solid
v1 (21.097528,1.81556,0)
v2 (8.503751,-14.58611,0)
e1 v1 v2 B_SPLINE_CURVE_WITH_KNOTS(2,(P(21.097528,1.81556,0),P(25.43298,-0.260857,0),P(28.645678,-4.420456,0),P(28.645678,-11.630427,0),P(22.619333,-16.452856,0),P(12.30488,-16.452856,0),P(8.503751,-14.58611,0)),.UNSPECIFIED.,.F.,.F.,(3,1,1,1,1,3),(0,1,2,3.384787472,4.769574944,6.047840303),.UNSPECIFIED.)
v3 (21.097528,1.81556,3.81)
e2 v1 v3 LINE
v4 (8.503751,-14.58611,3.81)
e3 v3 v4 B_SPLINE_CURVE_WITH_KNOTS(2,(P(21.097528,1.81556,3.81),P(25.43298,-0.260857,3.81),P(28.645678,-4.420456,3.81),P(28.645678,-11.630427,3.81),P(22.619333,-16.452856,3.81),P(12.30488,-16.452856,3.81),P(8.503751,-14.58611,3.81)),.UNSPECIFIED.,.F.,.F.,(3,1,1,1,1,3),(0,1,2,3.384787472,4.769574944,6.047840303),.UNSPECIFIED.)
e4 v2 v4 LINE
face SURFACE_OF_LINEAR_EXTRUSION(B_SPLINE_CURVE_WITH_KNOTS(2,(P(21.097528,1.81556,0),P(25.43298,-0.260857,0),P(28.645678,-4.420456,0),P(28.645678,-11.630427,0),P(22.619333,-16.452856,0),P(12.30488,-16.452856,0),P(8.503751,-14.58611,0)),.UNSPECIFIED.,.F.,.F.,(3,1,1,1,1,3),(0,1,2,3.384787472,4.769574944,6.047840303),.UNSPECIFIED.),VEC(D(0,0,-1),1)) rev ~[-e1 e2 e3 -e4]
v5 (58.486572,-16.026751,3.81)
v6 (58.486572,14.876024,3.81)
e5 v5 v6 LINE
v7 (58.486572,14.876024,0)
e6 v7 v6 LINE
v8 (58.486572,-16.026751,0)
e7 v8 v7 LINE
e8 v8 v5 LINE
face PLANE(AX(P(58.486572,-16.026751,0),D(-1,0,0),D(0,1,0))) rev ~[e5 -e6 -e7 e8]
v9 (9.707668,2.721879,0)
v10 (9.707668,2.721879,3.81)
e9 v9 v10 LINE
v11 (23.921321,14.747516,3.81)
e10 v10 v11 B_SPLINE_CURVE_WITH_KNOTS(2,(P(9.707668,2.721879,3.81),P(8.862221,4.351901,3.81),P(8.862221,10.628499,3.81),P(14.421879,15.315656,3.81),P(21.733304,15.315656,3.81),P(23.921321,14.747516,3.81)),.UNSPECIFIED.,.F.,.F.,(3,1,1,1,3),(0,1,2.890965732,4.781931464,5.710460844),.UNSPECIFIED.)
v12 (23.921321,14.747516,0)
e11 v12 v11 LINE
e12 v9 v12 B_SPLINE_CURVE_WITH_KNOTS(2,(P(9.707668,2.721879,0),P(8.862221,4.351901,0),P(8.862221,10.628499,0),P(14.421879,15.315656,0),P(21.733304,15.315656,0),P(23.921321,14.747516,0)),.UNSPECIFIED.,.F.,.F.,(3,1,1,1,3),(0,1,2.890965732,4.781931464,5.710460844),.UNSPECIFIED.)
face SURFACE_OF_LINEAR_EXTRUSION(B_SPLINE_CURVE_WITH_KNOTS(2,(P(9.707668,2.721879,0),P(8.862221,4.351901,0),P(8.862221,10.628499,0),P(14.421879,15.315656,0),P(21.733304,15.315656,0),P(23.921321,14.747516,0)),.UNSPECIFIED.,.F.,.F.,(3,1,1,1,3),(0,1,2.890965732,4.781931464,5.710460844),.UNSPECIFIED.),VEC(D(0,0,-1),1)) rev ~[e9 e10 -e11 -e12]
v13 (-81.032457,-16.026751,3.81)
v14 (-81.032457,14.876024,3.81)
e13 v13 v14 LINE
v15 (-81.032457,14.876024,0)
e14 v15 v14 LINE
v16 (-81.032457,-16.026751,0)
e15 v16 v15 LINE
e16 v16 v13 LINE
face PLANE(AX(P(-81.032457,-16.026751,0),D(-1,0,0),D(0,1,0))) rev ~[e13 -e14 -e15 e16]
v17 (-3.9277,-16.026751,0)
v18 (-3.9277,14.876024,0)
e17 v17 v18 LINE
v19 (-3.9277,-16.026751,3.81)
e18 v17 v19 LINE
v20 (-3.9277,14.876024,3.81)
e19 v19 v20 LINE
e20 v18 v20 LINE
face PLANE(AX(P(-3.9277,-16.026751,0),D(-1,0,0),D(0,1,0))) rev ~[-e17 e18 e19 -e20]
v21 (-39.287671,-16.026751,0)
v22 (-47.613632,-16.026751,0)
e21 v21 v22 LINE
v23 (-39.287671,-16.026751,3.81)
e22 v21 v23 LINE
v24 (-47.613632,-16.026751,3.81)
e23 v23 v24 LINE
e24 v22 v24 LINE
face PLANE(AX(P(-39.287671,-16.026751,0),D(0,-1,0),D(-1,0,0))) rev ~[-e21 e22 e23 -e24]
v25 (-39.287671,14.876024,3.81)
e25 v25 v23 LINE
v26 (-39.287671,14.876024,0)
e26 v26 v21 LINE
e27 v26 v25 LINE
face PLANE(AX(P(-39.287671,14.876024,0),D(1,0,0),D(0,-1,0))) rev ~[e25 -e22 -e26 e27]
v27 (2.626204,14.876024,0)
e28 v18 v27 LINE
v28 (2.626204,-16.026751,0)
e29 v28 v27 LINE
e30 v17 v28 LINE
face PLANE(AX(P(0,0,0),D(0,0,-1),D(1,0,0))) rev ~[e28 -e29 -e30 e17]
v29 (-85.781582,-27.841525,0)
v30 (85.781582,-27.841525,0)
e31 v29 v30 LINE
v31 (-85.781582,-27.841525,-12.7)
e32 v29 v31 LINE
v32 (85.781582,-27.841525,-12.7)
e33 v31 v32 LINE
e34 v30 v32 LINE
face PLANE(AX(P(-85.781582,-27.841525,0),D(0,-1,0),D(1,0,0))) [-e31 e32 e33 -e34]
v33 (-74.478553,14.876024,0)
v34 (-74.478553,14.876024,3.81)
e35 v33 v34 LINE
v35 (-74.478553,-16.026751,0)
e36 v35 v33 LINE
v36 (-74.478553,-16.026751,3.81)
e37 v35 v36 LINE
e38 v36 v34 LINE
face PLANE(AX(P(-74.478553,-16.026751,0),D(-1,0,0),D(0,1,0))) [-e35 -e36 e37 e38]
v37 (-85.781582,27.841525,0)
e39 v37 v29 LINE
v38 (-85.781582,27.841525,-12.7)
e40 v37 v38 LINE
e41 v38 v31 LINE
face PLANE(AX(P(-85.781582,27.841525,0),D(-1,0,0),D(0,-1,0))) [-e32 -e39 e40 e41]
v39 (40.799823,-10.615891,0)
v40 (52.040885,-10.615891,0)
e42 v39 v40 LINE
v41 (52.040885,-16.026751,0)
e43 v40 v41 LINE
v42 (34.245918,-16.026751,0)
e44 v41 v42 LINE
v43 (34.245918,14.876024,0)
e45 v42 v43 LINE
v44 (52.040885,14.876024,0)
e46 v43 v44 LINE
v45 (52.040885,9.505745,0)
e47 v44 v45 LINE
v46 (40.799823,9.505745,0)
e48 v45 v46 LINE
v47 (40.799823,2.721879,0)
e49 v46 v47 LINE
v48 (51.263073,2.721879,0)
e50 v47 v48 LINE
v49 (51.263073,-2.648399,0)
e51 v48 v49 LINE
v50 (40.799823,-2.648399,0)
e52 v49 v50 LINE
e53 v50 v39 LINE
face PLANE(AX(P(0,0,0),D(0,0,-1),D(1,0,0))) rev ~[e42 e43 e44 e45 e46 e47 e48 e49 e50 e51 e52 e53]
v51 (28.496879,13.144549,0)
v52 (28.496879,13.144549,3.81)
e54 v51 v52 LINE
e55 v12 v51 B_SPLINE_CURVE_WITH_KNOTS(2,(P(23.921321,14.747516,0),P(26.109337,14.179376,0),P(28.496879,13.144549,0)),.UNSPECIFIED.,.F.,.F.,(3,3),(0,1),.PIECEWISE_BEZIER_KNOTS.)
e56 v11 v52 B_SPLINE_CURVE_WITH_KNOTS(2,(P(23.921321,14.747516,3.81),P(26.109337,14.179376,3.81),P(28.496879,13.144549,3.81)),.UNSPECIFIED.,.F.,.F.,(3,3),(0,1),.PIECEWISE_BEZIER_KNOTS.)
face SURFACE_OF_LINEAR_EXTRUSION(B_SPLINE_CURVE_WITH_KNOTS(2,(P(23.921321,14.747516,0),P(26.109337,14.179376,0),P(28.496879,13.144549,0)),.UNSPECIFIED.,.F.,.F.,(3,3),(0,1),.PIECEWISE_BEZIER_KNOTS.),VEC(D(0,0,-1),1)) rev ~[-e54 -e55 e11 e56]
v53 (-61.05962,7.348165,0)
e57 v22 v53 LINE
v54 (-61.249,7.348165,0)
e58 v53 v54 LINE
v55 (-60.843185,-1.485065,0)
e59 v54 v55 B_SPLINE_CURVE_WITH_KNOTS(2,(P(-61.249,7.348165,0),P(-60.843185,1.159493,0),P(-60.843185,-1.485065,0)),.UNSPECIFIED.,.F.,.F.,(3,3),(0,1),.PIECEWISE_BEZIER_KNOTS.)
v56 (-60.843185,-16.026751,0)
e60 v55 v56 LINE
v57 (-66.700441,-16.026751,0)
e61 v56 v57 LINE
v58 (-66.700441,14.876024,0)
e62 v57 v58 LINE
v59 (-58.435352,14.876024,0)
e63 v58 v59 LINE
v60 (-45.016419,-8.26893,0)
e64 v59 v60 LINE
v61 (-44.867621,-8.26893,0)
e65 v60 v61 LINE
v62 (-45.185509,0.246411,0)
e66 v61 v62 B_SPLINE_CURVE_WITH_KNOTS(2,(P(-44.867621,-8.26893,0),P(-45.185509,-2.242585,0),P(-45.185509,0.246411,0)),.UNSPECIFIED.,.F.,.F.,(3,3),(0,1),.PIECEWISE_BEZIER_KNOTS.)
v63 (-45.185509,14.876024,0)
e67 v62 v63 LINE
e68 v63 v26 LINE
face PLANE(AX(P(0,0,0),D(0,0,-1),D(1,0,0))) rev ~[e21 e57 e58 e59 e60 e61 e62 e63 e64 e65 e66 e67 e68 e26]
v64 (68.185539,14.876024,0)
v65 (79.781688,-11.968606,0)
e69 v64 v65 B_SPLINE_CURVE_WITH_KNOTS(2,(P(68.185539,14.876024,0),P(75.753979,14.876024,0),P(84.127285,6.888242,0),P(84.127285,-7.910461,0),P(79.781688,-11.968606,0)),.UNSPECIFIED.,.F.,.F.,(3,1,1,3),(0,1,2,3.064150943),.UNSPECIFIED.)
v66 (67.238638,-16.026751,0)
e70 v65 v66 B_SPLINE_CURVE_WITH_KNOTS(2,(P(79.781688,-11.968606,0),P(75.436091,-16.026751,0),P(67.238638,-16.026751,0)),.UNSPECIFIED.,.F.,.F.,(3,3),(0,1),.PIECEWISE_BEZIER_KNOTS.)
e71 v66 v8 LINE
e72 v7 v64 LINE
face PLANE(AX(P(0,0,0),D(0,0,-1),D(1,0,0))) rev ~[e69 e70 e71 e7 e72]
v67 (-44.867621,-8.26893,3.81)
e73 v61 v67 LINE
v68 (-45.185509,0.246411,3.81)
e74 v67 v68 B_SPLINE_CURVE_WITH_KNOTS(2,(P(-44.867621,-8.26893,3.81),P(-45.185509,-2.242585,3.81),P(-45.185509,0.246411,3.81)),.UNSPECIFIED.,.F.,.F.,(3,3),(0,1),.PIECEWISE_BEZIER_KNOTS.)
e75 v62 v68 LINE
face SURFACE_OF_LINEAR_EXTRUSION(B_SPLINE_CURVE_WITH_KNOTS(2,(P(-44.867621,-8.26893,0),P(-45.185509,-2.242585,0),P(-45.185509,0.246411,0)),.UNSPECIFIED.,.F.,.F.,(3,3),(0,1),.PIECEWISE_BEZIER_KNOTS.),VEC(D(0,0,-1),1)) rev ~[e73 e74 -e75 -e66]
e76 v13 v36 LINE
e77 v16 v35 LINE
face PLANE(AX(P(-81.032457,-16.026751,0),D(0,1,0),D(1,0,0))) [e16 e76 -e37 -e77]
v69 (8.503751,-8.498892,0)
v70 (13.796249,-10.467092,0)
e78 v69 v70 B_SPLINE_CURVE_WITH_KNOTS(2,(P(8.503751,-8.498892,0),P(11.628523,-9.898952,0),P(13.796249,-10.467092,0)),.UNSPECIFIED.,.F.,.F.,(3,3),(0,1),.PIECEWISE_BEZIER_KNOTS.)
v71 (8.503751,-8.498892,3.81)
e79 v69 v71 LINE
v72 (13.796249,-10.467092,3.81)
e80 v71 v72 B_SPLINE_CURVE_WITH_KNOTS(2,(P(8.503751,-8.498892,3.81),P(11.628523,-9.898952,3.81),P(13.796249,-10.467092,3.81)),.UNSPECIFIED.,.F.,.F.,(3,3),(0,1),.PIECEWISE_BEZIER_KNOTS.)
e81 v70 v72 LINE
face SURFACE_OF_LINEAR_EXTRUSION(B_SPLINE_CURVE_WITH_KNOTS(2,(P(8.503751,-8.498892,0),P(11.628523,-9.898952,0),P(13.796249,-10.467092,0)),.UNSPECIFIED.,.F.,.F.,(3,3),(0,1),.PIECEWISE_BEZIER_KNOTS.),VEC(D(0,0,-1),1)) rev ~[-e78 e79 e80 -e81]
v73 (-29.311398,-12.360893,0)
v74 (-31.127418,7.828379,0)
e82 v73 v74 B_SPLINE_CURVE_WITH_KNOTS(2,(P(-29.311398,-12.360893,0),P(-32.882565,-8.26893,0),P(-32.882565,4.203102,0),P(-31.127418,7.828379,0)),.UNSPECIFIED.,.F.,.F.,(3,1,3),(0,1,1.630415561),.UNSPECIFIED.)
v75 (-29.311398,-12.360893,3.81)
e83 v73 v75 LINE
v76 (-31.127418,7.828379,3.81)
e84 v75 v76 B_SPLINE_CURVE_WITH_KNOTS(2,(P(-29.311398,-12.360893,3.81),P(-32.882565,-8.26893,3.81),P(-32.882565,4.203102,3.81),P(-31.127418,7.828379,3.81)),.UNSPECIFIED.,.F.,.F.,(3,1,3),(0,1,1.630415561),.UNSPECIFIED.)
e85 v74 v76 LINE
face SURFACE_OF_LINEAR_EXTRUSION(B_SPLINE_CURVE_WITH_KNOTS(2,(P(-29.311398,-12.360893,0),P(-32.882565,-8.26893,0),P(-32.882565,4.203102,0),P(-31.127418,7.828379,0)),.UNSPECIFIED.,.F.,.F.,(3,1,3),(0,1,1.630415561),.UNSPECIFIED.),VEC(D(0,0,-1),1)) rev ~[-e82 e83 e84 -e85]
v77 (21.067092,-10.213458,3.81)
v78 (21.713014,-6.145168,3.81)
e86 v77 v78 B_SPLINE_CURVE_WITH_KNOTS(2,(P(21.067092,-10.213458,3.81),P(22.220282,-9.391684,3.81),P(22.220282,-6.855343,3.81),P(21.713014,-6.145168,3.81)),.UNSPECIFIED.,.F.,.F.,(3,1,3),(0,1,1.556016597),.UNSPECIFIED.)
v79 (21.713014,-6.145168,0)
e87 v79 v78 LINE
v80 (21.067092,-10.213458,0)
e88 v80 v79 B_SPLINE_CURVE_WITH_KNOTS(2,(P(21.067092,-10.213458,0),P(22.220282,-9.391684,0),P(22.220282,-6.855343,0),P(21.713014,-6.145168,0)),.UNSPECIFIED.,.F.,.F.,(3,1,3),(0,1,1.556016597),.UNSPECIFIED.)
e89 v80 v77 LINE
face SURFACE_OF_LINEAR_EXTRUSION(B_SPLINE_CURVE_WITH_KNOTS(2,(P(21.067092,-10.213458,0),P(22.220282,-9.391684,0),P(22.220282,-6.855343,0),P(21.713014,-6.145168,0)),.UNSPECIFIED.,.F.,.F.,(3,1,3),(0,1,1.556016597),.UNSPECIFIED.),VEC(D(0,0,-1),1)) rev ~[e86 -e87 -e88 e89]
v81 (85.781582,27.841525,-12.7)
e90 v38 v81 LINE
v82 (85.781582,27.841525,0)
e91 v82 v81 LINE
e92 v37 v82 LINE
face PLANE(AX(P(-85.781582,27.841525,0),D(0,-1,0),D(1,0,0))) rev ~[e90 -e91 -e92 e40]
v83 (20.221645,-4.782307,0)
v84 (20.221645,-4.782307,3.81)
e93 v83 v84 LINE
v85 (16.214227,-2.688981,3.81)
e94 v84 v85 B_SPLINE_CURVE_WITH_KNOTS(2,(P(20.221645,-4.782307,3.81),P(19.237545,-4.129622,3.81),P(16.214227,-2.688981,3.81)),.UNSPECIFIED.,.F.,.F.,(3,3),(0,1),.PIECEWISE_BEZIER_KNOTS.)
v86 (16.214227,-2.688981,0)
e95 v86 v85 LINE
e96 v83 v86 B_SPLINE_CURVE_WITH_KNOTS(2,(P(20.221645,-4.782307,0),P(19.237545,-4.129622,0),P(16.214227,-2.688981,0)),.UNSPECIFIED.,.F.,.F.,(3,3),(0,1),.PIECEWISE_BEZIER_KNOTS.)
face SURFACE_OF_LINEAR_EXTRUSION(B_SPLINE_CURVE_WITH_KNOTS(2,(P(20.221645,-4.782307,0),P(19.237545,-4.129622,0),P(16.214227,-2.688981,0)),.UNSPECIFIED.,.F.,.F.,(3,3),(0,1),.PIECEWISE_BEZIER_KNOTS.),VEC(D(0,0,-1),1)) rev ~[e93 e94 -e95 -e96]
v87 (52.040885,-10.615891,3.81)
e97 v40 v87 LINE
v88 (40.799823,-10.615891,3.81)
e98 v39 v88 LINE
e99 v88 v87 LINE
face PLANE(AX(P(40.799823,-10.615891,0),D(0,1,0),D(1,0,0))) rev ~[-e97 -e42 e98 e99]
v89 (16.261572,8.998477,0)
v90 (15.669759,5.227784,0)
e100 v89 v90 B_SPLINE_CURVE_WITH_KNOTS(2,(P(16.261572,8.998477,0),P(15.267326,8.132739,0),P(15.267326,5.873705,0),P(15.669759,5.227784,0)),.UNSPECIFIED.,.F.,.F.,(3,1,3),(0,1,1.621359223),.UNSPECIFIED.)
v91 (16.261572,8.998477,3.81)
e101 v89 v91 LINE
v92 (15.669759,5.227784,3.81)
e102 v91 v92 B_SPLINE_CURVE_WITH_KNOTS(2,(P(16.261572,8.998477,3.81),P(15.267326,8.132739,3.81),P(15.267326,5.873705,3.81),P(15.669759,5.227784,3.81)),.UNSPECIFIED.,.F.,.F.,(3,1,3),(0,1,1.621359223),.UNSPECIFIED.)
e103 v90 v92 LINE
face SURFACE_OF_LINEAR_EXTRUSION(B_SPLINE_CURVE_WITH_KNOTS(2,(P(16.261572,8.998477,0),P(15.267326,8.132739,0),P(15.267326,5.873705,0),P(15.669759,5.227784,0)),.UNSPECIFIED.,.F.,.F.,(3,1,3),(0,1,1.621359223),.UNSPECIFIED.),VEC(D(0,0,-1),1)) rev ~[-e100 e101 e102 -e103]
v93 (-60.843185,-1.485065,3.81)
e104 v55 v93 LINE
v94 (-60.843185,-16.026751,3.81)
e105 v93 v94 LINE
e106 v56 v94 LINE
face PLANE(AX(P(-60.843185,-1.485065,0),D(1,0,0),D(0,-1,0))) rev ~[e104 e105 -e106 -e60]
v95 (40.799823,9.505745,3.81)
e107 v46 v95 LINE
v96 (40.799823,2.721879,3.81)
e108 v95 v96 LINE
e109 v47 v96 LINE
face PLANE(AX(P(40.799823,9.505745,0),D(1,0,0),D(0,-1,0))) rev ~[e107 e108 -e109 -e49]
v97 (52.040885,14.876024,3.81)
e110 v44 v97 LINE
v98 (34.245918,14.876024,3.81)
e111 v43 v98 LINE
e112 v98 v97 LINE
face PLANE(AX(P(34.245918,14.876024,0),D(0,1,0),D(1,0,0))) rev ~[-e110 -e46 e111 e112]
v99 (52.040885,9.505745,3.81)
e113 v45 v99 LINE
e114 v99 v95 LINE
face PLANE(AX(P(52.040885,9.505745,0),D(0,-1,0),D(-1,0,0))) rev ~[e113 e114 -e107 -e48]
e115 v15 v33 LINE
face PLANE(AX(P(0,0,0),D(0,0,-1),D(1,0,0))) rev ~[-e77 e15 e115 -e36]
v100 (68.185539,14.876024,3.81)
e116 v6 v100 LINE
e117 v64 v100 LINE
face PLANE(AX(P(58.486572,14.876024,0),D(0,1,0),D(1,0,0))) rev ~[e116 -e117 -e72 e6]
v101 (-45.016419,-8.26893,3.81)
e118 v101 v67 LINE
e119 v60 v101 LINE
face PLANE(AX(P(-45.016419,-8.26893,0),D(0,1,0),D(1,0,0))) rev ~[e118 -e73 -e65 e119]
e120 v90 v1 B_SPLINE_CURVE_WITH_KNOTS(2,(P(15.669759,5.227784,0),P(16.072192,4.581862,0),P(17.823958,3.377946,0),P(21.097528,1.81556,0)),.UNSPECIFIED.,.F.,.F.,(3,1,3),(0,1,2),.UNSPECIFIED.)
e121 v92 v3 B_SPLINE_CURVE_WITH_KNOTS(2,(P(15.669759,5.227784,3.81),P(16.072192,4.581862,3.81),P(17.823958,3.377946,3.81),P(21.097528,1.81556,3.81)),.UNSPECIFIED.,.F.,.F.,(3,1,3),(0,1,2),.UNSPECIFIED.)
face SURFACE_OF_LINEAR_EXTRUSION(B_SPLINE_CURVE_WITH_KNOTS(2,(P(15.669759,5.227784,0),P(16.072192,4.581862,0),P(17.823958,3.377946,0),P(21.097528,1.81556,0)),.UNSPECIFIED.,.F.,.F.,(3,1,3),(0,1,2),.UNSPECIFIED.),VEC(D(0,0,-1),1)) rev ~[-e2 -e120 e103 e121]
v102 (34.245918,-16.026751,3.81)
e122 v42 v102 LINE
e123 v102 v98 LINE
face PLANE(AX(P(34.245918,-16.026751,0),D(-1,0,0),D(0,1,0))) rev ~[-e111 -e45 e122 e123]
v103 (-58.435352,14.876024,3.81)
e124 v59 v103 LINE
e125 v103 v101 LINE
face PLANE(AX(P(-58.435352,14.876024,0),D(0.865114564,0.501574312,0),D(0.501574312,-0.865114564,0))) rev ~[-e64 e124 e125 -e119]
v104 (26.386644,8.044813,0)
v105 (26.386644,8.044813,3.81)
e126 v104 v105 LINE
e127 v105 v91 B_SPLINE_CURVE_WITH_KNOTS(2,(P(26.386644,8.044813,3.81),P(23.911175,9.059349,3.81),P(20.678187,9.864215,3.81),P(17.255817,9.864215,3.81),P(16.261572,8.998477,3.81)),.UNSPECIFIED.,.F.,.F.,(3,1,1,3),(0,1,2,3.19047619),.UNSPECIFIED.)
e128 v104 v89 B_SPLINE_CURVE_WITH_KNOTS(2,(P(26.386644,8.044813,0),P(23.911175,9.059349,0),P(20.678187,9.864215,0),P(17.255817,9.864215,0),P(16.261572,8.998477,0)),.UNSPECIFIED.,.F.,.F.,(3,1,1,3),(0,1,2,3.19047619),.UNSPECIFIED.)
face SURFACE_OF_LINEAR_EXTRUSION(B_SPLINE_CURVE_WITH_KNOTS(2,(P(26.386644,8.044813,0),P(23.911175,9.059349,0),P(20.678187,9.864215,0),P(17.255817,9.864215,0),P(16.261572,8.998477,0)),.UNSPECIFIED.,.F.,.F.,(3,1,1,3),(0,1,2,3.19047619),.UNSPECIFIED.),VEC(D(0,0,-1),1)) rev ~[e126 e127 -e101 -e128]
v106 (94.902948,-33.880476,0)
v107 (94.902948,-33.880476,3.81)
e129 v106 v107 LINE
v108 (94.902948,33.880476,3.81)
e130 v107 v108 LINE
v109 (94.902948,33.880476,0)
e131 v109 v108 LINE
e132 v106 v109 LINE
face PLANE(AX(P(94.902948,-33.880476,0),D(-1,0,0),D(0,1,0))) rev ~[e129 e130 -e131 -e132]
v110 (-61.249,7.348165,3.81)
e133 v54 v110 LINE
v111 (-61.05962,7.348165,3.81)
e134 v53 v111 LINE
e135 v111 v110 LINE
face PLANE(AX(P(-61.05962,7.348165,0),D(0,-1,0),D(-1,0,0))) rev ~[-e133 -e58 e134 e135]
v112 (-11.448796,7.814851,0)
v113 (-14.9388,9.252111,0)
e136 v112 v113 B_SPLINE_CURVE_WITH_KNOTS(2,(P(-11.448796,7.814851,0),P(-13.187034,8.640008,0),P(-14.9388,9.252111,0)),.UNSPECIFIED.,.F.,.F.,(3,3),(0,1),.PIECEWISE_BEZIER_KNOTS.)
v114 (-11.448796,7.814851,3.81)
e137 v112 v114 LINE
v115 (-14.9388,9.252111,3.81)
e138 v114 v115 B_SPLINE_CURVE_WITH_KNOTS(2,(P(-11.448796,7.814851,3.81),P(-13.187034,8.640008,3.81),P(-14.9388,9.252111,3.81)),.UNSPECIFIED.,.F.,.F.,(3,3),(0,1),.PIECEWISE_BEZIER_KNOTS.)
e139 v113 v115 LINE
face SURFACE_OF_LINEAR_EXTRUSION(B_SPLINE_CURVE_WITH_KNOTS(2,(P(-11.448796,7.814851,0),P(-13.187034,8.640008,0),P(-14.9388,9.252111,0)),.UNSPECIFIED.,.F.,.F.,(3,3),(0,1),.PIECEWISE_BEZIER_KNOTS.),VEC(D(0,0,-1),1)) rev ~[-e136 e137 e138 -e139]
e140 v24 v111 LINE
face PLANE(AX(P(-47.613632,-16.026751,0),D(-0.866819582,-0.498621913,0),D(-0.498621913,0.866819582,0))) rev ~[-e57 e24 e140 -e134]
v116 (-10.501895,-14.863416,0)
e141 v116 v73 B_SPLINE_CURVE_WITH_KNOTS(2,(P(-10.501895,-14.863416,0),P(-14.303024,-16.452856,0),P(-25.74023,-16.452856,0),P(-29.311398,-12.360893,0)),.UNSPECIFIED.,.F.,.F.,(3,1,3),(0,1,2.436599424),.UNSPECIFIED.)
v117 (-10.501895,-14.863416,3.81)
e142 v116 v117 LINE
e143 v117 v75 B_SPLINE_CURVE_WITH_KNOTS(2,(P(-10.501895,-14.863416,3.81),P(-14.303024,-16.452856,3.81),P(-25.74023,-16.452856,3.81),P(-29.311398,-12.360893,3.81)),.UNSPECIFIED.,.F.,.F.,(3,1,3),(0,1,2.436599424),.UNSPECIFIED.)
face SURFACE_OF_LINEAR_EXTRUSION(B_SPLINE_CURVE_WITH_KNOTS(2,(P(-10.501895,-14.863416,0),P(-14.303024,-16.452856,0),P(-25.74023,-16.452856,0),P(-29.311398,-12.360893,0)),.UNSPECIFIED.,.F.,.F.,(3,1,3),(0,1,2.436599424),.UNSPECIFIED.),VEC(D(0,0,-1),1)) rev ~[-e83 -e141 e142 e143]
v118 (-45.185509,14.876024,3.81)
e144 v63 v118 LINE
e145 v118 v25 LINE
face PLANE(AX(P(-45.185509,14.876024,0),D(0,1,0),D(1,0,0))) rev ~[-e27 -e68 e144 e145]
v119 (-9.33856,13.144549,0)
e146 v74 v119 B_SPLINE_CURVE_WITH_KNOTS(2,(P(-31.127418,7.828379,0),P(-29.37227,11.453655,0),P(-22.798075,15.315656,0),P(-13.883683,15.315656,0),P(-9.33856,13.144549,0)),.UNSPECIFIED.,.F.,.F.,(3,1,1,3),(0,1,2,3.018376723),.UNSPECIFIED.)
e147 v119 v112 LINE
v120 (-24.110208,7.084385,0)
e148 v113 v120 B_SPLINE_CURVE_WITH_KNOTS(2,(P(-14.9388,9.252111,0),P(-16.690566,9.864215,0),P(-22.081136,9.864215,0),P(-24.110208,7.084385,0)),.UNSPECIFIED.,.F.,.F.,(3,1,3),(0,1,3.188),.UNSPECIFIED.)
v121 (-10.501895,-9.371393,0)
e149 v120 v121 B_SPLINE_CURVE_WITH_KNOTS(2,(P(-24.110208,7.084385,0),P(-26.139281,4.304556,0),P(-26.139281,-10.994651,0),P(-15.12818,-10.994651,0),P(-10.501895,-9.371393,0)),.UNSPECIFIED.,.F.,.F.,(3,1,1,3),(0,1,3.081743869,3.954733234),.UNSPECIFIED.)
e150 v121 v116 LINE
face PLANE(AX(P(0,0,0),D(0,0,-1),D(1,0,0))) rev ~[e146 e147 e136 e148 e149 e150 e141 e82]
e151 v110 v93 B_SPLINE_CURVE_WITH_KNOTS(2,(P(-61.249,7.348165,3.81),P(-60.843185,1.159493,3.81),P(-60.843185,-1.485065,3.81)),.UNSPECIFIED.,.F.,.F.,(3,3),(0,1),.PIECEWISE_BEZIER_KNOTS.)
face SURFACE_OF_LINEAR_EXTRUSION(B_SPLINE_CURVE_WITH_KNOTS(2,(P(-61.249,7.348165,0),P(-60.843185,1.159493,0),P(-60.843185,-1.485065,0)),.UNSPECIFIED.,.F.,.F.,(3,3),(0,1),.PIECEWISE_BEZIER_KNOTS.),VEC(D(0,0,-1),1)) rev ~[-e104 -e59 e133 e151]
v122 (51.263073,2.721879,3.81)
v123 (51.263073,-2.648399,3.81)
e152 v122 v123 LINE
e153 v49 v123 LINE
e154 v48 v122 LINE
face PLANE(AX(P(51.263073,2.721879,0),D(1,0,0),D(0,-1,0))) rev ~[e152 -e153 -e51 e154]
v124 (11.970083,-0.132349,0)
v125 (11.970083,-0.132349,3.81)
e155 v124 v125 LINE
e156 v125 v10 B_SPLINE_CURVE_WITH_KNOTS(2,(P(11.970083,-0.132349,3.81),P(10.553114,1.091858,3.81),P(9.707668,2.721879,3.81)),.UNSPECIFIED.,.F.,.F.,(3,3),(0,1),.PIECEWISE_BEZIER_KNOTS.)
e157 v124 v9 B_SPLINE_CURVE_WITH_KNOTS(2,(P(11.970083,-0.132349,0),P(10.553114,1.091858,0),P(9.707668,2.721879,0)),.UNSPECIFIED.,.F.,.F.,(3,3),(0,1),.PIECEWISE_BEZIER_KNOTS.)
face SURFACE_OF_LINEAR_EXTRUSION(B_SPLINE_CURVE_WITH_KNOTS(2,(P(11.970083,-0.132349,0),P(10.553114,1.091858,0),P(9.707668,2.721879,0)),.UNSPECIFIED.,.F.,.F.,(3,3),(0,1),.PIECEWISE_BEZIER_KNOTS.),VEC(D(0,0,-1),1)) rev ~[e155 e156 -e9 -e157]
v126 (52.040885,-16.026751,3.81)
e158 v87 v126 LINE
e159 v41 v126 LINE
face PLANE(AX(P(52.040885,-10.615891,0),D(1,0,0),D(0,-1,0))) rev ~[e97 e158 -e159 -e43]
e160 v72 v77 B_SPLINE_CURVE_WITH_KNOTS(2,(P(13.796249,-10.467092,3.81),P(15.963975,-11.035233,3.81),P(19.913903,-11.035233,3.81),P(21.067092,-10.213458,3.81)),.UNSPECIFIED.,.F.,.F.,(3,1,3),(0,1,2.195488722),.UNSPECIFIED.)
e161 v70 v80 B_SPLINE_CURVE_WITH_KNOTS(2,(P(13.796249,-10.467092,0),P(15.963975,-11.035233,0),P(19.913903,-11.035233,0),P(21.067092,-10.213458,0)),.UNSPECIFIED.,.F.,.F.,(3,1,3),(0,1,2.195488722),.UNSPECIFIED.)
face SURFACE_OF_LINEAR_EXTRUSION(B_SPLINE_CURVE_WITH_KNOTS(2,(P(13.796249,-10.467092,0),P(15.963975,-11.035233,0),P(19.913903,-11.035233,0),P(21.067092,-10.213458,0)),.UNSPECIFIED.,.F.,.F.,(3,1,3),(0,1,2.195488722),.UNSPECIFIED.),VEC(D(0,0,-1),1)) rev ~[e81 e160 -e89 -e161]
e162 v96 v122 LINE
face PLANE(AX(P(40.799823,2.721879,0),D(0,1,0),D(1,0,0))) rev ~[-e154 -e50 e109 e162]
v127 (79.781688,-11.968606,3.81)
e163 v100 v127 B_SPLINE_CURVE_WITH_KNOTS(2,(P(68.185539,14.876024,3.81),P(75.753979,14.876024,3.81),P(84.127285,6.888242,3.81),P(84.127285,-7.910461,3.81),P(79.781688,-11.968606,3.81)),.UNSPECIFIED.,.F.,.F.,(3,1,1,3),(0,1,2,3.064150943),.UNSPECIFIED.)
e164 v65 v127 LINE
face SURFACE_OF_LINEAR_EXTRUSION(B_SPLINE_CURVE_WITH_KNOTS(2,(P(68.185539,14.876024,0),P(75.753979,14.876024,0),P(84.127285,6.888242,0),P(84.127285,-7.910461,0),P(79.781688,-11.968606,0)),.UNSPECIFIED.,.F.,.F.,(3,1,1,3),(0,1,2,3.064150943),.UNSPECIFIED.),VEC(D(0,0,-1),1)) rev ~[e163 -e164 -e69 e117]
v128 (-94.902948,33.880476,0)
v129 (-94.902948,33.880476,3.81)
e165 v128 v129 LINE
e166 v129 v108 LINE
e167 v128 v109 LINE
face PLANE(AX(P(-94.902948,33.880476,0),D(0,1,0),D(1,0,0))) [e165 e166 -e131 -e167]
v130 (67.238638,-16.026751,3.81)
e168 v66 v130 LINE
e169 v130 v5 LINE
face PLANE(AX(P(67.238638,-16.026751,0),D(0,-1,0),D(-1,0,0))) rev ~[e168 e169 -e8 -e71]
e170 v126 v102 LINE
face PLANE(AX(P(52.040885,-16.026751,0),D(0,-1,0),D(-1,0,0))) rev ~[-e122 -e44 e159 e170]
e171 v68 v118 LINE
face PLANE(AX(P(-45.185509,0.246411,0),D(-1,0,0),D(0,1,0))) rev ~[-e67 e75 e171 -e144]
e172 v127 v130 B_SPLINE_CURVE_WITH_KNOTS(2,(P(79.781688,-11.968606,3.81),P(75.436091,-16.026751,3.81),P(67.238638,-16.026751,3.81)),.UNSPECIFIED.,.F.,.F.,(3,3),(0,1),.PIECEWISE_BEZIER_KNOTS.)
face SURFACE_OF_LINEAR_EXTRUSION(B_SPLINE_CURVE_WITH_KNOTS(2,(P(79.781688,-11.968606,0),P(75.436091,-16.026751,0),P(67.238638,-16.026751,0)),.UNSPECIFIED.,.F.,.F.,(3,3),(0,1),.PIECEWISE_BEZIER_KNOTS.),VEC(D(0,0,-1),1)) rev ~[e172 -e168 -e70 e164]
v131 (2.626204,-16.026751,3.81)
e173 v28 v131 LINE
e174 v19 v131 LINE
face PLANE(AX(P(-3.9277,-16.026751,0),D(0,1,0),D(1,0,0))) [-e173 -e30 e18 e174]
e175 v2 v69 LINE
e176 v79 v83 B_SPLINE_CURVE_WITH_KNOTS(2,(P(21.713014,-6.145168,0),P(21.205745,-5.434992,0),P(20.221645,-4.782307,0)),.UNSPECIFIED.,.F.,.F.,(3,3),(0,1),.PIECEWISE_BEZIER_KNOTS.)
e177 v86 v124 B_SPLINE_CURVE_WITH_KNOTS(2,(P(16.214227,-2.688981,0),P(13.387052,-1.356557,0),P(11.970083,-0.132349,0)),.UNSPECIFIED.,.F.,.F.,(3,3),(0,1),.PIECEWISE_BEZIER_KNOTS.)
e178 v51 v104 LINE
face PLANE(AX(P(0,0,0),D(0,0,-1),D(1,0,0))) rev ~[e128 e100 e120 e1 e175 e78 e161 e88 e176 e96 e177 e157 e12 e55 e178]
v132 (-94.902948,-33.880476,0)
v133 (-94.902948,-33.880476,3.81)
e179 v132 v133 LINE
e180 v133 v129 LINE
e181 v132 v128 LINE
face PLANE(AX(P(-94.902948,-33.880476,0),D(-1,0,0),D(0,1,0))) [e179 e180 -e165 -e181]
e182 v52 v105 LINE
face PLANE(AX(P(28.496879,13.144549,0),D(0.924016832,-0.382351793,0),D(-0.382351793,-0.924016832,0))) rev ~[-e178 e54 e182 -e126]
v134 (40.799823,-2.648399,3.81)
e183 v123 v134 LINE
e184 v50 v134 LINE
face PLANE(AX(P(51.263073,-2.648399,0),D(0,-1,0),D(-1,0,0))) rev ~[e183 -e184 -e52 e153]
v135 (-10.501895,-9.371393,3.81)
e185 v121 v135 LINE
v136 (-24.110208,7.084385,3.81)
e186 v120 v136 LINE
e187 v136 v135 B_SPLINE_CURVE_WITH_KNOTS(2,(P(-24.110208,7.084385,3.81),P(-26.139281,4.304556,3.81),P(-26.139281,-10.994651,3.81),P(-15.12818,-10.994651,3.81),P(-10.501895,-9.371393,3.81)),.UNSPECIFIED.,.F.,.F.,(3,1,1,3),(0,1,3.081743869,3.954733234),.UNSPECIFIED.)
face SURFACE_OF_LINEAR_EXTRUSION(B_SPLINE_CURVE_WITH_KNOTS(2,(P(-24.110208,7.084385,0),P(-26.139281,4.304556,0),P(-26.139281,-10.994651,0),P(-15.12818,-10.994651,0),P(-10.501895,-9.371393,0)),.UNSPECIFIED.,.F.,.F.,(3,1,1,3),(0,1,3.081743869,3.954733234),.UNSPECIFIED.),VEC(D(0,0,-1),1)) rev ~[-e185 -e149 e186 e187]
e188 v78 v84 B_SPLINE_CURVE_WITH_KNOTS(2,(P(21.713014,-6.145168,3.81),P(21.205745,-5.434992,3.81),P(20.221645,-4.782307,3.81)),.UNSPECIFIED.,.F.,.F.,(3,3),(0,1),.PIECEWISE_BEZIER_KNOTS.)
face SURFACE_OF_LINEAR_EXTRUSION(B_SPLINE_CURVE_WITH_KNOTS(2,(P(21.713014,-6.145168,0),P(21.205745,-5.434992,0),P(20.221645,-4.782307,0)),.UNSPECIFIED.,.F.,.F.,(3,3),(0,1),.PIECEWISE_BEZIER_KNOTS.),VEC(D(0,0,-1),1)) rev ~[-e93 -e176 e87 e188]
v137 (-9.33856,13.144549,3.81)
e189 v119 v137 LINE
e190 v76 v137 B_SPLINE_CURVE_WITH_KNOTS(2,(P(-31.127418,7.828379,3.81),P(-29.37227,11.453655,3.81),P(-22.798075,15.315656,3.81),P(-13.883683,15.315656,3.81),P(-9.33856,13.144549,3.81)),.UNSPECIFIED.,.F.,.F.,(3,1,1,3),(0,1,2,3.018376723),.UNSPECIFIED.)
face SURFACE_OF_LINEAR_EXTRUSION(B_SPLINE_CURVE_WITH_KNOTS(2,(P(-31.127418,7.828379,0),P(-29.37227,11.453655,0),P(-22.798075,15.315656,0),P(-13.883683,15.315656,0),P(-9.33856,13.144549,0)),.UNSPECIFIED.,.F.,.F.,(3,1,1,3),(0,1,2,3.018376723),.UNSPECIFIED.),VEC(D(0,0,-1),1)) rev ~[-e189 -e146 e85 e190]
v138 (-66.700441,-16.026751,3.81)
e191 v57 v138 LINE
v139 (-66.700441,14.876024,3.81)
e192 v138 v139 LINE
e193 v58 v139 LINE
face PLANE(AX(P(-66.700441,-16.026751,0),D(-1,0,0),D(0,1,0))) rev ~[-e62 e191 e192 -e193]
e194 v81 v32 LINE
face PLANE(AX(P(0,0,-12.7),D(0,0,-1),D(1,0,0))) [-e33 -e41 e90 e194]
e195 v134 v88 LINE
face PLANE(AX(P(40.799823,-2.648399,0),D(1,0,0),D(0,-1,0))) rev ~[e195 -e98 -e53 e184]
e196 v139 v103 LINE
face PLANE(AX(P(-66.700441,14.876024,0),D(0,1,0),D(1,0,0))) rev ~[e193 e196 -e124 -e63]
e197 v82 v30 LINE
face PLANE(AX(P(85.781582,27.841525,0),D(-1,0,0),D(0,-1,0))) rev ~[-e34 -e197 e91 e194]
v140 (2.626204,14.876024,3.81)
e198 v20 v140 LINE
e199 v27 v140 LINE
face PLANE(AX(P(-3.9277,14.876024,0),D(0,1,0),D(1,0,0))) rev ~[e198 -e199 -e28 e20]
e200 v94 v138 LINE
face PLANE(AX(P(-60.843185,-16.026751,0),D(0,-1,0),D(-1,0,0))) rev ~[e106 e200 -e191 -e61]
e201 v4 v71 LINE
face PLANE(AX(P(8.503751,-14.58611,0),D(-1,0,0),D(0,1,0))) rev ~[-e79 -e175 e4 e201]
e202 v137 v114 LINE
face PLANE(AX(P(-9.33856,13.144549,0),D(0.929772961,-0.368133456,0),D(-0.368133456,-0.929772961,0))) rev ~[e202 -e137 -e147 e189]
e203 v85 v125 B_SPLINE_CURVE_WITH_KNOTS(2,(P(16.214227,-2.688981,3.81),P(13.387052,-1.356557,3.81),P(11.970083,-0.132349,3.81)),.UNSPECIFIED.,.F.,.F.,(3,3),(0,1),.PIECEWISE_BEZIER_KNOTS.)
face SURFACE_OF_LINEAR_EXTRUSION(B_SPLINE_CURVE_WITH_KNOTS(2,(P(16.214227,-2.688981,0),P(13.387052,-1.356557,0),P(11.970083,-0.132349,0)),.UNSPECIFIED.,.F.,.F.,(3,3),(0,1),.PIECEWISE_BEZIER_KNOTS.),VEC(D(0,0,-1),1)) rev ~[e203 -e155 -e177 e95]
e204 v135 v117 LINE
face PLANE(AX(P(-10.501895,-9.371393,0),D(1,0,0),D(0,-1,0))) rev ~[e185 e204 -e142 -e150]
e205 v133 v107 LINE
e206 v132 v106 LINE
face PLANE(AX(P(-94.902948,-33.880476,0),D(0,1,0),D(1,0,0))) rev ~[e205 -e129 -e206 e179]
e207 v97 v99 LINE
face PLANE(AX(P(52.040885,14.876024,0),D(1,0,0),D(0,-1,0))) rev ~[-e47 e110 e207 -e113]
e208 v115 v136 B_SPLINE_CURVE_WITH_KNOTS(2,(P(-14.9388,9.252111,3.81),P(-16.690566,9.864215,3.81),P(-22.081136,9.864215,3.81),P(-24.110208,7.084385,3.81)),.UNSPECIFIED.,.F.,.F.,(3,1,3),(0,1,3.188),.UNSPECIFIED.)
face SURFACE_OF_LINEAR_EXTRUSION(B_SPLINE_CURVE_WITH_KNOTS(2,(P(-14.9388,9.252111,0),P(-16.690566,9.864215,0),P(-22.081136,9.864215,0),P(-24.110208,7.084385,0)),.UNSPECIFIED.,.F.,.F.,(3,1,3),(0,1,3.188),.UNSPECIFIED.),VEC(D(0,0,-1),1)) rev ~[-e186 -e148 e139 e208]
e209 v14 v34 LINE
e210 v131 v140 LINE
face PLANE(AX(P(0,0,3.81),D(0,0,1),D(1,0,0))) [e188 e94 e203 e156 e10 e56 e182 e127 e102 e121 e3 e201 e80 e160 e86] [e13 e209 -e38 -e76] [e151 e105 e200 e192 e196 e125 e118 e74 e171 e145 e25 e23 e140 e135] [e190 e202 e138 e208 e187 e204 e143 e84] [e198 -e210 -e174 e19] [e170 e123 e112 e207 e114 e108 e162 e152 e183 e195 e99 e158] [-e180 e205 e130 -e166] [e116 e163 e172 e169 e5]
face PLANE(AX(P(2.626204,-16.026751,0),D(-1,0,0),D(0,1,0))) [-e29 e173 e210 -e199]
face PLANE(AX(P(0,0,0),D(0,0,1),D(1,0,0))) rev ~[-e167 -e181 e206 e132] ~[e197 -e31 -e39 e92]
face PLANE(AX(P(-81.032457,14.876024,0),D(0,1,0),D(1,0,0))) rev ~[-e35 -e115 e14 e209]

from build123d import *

# Parameters (mm, degrees)
F0_W     = 189.8058950901
F0_H     = 67.760951817
F0_W_2   = 6.5539043493
F0_H_2   = 30.9027749966
F1_DEPTH = 3.81
F2_W     = 171.5631633997
F2_H     = 55.6830503047
F3_DEPTH = 5.08
F4_DEPTH = 12.7


with BuildPart() as f1:
    # F0 (on Top) → F1 (new body)
    with BuildSketch(Plane.XY):
        Rectangle(F0_W, F0_H)
        with Locations((-77.7555048497, -0.57536364)):
            Rectangle(F0_W_2, F0_H_2, mode=Mode.SUBTRACT)
        with BuildLine():
            Line((-39.2876710145, 14.8760238584), (-39.2876710145, -16.0267511383))
            Line((-39.2876710145, -16.0267511383), (-47.6136320609, -16.0267511383))
            Line((-47.6136320609, -16.0267511383), (-61.0596195183, 7.3481646832))
            Line((-61.0596195183, 7.3481646832), (-61.2489996234, 7.3481646832))
            add(Edge.make_bspline(
                [(-61.2489996234, 7.3481646832), (-60.8431851126, 1.1594933937), (-60.8431851126, -1.4850645016)],
                knots=[0, 0, 0, 1, 1, 1], degree=2))
            Line((-60.8431851126, -1.4850645016), (-60.8431851126, -16.0267511383))
            Line((-60.8431851126, -16.0267511383), (-66.7004412183, -16.0267511383))
            Line((-66.7004412183, -16.0267511383), (-66.7004412183, 14.8760238584))
            Line((-66.7004412183, 14.8760238584), (-58.4353523486, 14.8760238584))
            Line((-58.4353523486, 14.8760238584), (-45.0164191918, -8.268930407))
            Line((-45.0164191918, -8.268930407), (-44.8676205378, -8.268930407))
            add(Edge.make_bspline(
                [(-44.8676205378, -8.268930407), (-45.1855085713, -2.2425849218), (-45.1855085713, 0.2464107444)],
                knots=[0, 0, 0, 1, 1, 1], degree=2))
            Line((-45.1855085713, 0.2464107444), (-45.1855085713, 14.8760238584))
            Line((-45.1855085713, 14.8760238584), (-39.2876710145, 14.8760238584))
        make_face(mode=Mode.SUBTRACT)
        with BuildLine():
            add(Edge.make_bspline(
                [(-14.9388003671, 9.2521110963), (-16.6905663387, 9.8642146501), (-18.3814601336, 9.8642146501)],
                knots=[0, 0, 0, 1, 1, 1], degree=2))
            add(Edge.make_bspline(
                [(-18.3814601336, 9.8642146501), (-22.081135757, 9.8642146501), (-24.110208311, 7.0843852512)],
                knots=[0, 0, 0, 1, 1, 1], degree=2))
            add(Edge.make_bspline(
                [(-24.110208311, 7.0843852512), (-26.1392808649, 4.3045558523), (-26.1392808649, -0.6599083297)],
                knots=[0, 0, 0, 1, 1, 1], degree=2))
            add(Edge.make_bspline(
                [(-26.1392808649, -0.6599083297), (-26.1392808649, -10.9946512045), (-18.3814601336, -10.9946512045)],
                knots=[0, 0, 0, 1, 1, 1], degree=2))
            add(Edge.make_bspline(
                [(-18.3814601336, -10.9946512045), (-15.1281804721, -10.9946512045), (-10.5018950491, -9.3713931613)],
                knots=[0, 0, 0, 1, 1, 1], degree=2))
            Line((-10.5018950491, -9.3713931613), (-10.5018950491, -14.8634162073))
            add(Edge.make_bspline(
                [(-10.5018950491, -14.8634162073), (-14.3030243002, -16.4528563746), (-18.996945475, -16.4528563746)],
                knots=[0, 0, 0, 1, 1, 1], degree=2))
            add(Edge.make_bspline(
                [(-18.996945475, -16.4528563746), (-25.7402299293, -16.4528563746), (-29.3113976242, -12.3608933908)],
                knots=[0, 0, 0, 1, 1, 1], degree=2))
            add(Edge.make_bspline(
                [(-29.3113976242, -12.3608933908), (-32.8825653192, -8.268930407), (-32.8825653192, -0.6193268786)],
                knots=[0, 0, 0, 1, 1, 1], degree=2))
            add(Edge.make_bspline(
                [(-32.8825653192, -0.6193268786), (-32.8825653192, 4.2031022246), (-31.12741756, 7.828378521)],
                knots=[0, 0, 0, 1, 1, 1], degree=2))
            add(Edge.make_bspline(
                [(-31.12741756, 7.828378521), (-29.3722698009, 11.4536548174), (-26.0851722635, 13.3846555312)],
                knots=[0, 0, 0, 1, 1, 1], degree=2))
            add(Edge.make_bspline(
                [(-26.0851722635, 13.3846555312), (-22.7980747261, 15.315656245), (-18.3814601336, 15.315656245)],
                knots=[0, 0, 0, 1, 1, 1], degree=2))
            add(Edge.make_bspline(
                [(-18.3814601336, 15.315656245), (-13.8836826391, 15.315656245), (-9.3385601182, 13.1445486123)],
                knots=[0, 0, 0, 1, 1, 1], degree=2))
            Line((-9.3385601182, 13.1445486123), (-11.4487955743, 7.8148513706))
            add(Edge.make_bspline(
                [(-11.4487955743, 7.8148513706), (-13.1870343955, 8.6400075426), (-14.9388003671, 9.2521110963)],
                knots=[0, 0, 0, 1, 1, 1], degree=2))
        make_face(mode=Mode.SUBTRACT)
        with Locations((-0.6507477997, -0.57536364)):
            Rectangle(F0_W_2, F0_H_2, mode=Mode.SUBTRACT)
        with BuildLine():
            add(Edge.make_bspline(
                [(27.0393289865, -2.3406567619), (28.6456780917, -4.4204561297), (28.6456780917, -7.4437742351)],
                knots=[0, 0, 0, 1, 1, 1], degree=2))
            add(Edge.make_bspline(
                [(28.6456780917, -7.4437742351), (28.6456780917, -11.6304272714), (25.6325053491, -14.041641823)],
                knots=[0, 0, 0, 1, 1, 1], degree=2))
            add(Edge.make_bspline(
                [(25.6325053491, -14.041641823), (22.6193326065, -16.4528563746), (17.2558174889, -16.4528563746)],
                knots=[0, 0, 0, 1, 1, 1], degree=2))
            add(Edge.make_bspline(
                [(17.2558174889, -16.4528563746), (12.3048804572, -16.4528563746), (8.5037512062, -14.586109625)],
                knots=[0, 0, 0, 1, 1, 1], degree=2))
            Line((8.5037512062, -14.586109625), (8.5037512062, -8.4988919631))
            add(Edge.make_bspline(
                [(8.5037512062, -8.4988919631), (11.6285229392, -9.8989520253), (13.7962487844, -10.4670923405)],
                knots=[0, 0, 0, 1, 1, 1], degree=2))
            add(Edge.make_bspline(
                [(13.7962487844, -10.4670923405), (15.9639746295, -11.0352326556), (17.7630856273, -11.0352326556)],
                knots=[0, 0, 0, 1, 1, 1], degree=2))
            add(Edge.make_bspline(
                [(17.7630856273, -11.0352326556), (19.9139025345, -11.0352326556), (21.0670921027, -10.2134582712)],
                knots=[0, 0, 0, 1, 1, 1], degree=2))
            add(Edge.make_bspline(
                [(21.0670921027, -10.2134582712), (22.2202816708, -9.3916838869), (22.2202816708, -7.7616622685)],
                knots=[0, 0, 0, 1, 1, 1], degree=2))
            add(Edge.make_bspline(
                [(22.2202816708, -7.7616622685), (22.2202816708, -6.8553431944), (21.7130135324, -6.1451678005)],
                knots=[0, 0, 0, 1, 1, 1], degree=2))
            add(Edge.make_bspline(
                [(21.7130135324, -6.1451678005), (21.2057453939, -5.4349924067), (20.2216452052, -4.7823074018)],
                knots=[0, 0, 0, 1, 1, 1], degree=2))
            add(Edge.make_bspline(
                [(20.2216452052, -4.7823074018), (19.2375450165, -4.129622397), (16.2142269112, -2.6889808837)],
                knots=[0, 0, 0, 1, 1, 1], degree=2))
            add(Edge.make_bspline(
                [(16.2142269112, -2.6889808837), (13.387052486, -1.3565565732), (11.9700834858, -0.1323494657)],
                knots=[0, 0, 0, 1, 1, 1], degree=2))
            add(Edge.make_bspline(
                [(11.9700834858, -0.1323494657), (10.5531144856, 1.0918576419), (9.7076675882, 2.7218792602)],
                knots=[0, 0, 0, 1, 1, 1], degree=2))
            add(Edge.make_bspline(
                [(9.7076675882, 2.7218792602), (8.8622206907, 4.3519008785), (8.8622206907, 6.5230085113)],
                knots=[0, 0, 0, 1, 1, 1], degree=2))
            add(Edge.make_bspline(
                [(8.8622206907, 6.5230085113), (8.8622206907, 10.6284986454), (11.6420500896, 12.9720774452)],
                knots=[0, 0, 0, 1, 1, 1], degree=2))
            add(Edge.make_bspline(
                [(11.6420500896, 12.9720774452), (14.4218794885, 15.315656245), (19.3254714939, 15.315656245)],
                knots=[0, 0, 0, 1, 1, 1], degree=2))
            add(Edge.make_bspline(
                [(19.3254714939, 15.315656245), (21.7333042579, 15.315656245), (23.9213208286, 14.7475159299)],
                knots=[0, 0, 0, 1, 1, 1], degree=2))
            add(Edge.make_bspline(
                [(23.9213208286, 14.7475159299), (26.1093373992, 14.1793756148), (28.4968794377, 13.1445486123)],
                knots=[0, 0, 0, 1, 1, 1], degree=2))
            Line((28.4968794377, 13.1445486123), (26.3866439816, 8.0448129267))
            add(Edge.make_bspline(
                [(26.3866439816, 8.0448129267), (23.9111754658, 9.0593492037), (22.2946809978, 9.4617819269)],
                knots=[0, 0, 0, 1, 1, 1], degree=2))
            add(Edge.make_bspline(
                [(22.2946809978, 9.4617819269), (20.6781865298, 9.8642146501), (19.1158006633, 9.8642146501)],
                knots=[0, 0, 0, 1, 1, 1], degree=2))
            add(Edge.make_bspline(
                [(19.1158006633, 9.8642146501), (17.2558174889, 9.8642146501), (16.2615719374, 8.9984770271)],
                knots=[0, 0, 0, 1, 1, 1], degree=2))
            add(Edge.make_bspline(
                [(16.2615719374, 8.9984770271), (15.267326386, 8.1327394041), (15.267326386, 6.739442917)],
                knots=[0, 0, 0, 1, 1, 1], degree=2))
            add(Edge.make_bspline(
                [(15.267326386, 6.739442917), (15.267326386, 5.873705294), (15.6697591092, 5.2277838643)],
                knots=[0, 0, 0, 1, 1, 1], degree=2))
            add(Edge.make_bspline(
                [(15.6697591092, 5.2277838643), (16.0721918324, 4.5818624347), (16.9480748182, 3.9799042437)],
                knots=[0, 0, 0, 1, 1, 1], degree=2))
            add(Edge.make_bspline(
                [(16.9480748182, 3.9799042437), (17.823957804, 3.3779460527), (21.097528191, 1.8155601861)],
                knots=[0, 0, 0, 1, 1, 1], degree=2))
            add(Edge.make_bspline(
                [(21.097528191, 1.8155601861), (25.4329798813, -0.2608573941), (27.0393289865, -2.3406567619)],
                knots=[0, 0, 0, 1, 1, 1], degree=2))
        make_face(mode=Mode.SUBTRACT)
        Polygon((52.0408846387, -10.6158909944), (52.0408846387, -16.0267511383), (34.2459183406, -16.0267511383), (34.2459183406, 14.8760238584), (52.0408846387, 14.8760238584), (52.0408846387, 9.5057451656), (40.7998226898, 9.5057451656), (40.7998226898, 2.7218792602), (51.263073493, 2.7218792602), (51.263073493, -2.6483994326), (40.7998226898, -2.6483994326), (40.7998226898, -10.6158909944), align=None, mode=Mode.SUBTRACT)
        with BuildLine():
            add(Edge.make_bspline(
                [(79.9406322555, 10.8821327147), (84.1272852918, 6.888241571), (84.1272852918, -0.2811481196)],
                knots=[0, 0, 0, 1, 1, 1], degree=2))
            add(Edge.make_bspline(
                [(84.1272852918, -0.2811481196), (84.1272852918, -7.9104609225), (79.7816882388, -11.9686060304)],
                knots=[0, 0, 0, 1, 1, 1], degree=2))
            add(Edge.make_bspline(
                [(79.7816882388, -11.9686060304), (75.4360911857, -16.0267511383), (67.2386380678, -16.0267511383)],
                knots=[0, 0, 0, 1, 1, 1], degree=2))
            Line((67.2386380678, -16.0267511383), (58.4865717851, -16.0267511383))
            Line((58.4865717851, -16.0267511383), (58.4865717851, 14.8760238584))
            Line((58.4865717851, 14.8760238584), (68.1855385929, 14.8760238584))
            add(Edge.make_bspline(
                [(68.1855385929, 14.8760238584), (75.7539792192, 14.8760238584), (79.9406322555, 10.8821327147)],
                knots=[0, 0, 0, 1, 1, 1], degree=2))
        make_face(mode=Mode.SUBTRACT)
    extrude(amount=F1_DEPTH)

    # F2 (on face) → F3 (cut)
    with BuildSketch(Plane(origin=(0, 0, 0), x_dir=(1, 0, 0), z_dir=(0, 0, -1))):
        Rectangle(F2_W, F2_H)
    extrude(amount=F3_DEPTH, mode=Mode.SUBTRACT)

    # F2 (on face) → F4 (join)
    with BuildSketch(Plane(origin=(0, 0, 0), x_dir=(1, 0, 0), z_dir=(0, 0, -1))):
        Rectangle(F2_W, F2_H)
    extrude(amount=F4_DEPTH)


solid = f1.part
